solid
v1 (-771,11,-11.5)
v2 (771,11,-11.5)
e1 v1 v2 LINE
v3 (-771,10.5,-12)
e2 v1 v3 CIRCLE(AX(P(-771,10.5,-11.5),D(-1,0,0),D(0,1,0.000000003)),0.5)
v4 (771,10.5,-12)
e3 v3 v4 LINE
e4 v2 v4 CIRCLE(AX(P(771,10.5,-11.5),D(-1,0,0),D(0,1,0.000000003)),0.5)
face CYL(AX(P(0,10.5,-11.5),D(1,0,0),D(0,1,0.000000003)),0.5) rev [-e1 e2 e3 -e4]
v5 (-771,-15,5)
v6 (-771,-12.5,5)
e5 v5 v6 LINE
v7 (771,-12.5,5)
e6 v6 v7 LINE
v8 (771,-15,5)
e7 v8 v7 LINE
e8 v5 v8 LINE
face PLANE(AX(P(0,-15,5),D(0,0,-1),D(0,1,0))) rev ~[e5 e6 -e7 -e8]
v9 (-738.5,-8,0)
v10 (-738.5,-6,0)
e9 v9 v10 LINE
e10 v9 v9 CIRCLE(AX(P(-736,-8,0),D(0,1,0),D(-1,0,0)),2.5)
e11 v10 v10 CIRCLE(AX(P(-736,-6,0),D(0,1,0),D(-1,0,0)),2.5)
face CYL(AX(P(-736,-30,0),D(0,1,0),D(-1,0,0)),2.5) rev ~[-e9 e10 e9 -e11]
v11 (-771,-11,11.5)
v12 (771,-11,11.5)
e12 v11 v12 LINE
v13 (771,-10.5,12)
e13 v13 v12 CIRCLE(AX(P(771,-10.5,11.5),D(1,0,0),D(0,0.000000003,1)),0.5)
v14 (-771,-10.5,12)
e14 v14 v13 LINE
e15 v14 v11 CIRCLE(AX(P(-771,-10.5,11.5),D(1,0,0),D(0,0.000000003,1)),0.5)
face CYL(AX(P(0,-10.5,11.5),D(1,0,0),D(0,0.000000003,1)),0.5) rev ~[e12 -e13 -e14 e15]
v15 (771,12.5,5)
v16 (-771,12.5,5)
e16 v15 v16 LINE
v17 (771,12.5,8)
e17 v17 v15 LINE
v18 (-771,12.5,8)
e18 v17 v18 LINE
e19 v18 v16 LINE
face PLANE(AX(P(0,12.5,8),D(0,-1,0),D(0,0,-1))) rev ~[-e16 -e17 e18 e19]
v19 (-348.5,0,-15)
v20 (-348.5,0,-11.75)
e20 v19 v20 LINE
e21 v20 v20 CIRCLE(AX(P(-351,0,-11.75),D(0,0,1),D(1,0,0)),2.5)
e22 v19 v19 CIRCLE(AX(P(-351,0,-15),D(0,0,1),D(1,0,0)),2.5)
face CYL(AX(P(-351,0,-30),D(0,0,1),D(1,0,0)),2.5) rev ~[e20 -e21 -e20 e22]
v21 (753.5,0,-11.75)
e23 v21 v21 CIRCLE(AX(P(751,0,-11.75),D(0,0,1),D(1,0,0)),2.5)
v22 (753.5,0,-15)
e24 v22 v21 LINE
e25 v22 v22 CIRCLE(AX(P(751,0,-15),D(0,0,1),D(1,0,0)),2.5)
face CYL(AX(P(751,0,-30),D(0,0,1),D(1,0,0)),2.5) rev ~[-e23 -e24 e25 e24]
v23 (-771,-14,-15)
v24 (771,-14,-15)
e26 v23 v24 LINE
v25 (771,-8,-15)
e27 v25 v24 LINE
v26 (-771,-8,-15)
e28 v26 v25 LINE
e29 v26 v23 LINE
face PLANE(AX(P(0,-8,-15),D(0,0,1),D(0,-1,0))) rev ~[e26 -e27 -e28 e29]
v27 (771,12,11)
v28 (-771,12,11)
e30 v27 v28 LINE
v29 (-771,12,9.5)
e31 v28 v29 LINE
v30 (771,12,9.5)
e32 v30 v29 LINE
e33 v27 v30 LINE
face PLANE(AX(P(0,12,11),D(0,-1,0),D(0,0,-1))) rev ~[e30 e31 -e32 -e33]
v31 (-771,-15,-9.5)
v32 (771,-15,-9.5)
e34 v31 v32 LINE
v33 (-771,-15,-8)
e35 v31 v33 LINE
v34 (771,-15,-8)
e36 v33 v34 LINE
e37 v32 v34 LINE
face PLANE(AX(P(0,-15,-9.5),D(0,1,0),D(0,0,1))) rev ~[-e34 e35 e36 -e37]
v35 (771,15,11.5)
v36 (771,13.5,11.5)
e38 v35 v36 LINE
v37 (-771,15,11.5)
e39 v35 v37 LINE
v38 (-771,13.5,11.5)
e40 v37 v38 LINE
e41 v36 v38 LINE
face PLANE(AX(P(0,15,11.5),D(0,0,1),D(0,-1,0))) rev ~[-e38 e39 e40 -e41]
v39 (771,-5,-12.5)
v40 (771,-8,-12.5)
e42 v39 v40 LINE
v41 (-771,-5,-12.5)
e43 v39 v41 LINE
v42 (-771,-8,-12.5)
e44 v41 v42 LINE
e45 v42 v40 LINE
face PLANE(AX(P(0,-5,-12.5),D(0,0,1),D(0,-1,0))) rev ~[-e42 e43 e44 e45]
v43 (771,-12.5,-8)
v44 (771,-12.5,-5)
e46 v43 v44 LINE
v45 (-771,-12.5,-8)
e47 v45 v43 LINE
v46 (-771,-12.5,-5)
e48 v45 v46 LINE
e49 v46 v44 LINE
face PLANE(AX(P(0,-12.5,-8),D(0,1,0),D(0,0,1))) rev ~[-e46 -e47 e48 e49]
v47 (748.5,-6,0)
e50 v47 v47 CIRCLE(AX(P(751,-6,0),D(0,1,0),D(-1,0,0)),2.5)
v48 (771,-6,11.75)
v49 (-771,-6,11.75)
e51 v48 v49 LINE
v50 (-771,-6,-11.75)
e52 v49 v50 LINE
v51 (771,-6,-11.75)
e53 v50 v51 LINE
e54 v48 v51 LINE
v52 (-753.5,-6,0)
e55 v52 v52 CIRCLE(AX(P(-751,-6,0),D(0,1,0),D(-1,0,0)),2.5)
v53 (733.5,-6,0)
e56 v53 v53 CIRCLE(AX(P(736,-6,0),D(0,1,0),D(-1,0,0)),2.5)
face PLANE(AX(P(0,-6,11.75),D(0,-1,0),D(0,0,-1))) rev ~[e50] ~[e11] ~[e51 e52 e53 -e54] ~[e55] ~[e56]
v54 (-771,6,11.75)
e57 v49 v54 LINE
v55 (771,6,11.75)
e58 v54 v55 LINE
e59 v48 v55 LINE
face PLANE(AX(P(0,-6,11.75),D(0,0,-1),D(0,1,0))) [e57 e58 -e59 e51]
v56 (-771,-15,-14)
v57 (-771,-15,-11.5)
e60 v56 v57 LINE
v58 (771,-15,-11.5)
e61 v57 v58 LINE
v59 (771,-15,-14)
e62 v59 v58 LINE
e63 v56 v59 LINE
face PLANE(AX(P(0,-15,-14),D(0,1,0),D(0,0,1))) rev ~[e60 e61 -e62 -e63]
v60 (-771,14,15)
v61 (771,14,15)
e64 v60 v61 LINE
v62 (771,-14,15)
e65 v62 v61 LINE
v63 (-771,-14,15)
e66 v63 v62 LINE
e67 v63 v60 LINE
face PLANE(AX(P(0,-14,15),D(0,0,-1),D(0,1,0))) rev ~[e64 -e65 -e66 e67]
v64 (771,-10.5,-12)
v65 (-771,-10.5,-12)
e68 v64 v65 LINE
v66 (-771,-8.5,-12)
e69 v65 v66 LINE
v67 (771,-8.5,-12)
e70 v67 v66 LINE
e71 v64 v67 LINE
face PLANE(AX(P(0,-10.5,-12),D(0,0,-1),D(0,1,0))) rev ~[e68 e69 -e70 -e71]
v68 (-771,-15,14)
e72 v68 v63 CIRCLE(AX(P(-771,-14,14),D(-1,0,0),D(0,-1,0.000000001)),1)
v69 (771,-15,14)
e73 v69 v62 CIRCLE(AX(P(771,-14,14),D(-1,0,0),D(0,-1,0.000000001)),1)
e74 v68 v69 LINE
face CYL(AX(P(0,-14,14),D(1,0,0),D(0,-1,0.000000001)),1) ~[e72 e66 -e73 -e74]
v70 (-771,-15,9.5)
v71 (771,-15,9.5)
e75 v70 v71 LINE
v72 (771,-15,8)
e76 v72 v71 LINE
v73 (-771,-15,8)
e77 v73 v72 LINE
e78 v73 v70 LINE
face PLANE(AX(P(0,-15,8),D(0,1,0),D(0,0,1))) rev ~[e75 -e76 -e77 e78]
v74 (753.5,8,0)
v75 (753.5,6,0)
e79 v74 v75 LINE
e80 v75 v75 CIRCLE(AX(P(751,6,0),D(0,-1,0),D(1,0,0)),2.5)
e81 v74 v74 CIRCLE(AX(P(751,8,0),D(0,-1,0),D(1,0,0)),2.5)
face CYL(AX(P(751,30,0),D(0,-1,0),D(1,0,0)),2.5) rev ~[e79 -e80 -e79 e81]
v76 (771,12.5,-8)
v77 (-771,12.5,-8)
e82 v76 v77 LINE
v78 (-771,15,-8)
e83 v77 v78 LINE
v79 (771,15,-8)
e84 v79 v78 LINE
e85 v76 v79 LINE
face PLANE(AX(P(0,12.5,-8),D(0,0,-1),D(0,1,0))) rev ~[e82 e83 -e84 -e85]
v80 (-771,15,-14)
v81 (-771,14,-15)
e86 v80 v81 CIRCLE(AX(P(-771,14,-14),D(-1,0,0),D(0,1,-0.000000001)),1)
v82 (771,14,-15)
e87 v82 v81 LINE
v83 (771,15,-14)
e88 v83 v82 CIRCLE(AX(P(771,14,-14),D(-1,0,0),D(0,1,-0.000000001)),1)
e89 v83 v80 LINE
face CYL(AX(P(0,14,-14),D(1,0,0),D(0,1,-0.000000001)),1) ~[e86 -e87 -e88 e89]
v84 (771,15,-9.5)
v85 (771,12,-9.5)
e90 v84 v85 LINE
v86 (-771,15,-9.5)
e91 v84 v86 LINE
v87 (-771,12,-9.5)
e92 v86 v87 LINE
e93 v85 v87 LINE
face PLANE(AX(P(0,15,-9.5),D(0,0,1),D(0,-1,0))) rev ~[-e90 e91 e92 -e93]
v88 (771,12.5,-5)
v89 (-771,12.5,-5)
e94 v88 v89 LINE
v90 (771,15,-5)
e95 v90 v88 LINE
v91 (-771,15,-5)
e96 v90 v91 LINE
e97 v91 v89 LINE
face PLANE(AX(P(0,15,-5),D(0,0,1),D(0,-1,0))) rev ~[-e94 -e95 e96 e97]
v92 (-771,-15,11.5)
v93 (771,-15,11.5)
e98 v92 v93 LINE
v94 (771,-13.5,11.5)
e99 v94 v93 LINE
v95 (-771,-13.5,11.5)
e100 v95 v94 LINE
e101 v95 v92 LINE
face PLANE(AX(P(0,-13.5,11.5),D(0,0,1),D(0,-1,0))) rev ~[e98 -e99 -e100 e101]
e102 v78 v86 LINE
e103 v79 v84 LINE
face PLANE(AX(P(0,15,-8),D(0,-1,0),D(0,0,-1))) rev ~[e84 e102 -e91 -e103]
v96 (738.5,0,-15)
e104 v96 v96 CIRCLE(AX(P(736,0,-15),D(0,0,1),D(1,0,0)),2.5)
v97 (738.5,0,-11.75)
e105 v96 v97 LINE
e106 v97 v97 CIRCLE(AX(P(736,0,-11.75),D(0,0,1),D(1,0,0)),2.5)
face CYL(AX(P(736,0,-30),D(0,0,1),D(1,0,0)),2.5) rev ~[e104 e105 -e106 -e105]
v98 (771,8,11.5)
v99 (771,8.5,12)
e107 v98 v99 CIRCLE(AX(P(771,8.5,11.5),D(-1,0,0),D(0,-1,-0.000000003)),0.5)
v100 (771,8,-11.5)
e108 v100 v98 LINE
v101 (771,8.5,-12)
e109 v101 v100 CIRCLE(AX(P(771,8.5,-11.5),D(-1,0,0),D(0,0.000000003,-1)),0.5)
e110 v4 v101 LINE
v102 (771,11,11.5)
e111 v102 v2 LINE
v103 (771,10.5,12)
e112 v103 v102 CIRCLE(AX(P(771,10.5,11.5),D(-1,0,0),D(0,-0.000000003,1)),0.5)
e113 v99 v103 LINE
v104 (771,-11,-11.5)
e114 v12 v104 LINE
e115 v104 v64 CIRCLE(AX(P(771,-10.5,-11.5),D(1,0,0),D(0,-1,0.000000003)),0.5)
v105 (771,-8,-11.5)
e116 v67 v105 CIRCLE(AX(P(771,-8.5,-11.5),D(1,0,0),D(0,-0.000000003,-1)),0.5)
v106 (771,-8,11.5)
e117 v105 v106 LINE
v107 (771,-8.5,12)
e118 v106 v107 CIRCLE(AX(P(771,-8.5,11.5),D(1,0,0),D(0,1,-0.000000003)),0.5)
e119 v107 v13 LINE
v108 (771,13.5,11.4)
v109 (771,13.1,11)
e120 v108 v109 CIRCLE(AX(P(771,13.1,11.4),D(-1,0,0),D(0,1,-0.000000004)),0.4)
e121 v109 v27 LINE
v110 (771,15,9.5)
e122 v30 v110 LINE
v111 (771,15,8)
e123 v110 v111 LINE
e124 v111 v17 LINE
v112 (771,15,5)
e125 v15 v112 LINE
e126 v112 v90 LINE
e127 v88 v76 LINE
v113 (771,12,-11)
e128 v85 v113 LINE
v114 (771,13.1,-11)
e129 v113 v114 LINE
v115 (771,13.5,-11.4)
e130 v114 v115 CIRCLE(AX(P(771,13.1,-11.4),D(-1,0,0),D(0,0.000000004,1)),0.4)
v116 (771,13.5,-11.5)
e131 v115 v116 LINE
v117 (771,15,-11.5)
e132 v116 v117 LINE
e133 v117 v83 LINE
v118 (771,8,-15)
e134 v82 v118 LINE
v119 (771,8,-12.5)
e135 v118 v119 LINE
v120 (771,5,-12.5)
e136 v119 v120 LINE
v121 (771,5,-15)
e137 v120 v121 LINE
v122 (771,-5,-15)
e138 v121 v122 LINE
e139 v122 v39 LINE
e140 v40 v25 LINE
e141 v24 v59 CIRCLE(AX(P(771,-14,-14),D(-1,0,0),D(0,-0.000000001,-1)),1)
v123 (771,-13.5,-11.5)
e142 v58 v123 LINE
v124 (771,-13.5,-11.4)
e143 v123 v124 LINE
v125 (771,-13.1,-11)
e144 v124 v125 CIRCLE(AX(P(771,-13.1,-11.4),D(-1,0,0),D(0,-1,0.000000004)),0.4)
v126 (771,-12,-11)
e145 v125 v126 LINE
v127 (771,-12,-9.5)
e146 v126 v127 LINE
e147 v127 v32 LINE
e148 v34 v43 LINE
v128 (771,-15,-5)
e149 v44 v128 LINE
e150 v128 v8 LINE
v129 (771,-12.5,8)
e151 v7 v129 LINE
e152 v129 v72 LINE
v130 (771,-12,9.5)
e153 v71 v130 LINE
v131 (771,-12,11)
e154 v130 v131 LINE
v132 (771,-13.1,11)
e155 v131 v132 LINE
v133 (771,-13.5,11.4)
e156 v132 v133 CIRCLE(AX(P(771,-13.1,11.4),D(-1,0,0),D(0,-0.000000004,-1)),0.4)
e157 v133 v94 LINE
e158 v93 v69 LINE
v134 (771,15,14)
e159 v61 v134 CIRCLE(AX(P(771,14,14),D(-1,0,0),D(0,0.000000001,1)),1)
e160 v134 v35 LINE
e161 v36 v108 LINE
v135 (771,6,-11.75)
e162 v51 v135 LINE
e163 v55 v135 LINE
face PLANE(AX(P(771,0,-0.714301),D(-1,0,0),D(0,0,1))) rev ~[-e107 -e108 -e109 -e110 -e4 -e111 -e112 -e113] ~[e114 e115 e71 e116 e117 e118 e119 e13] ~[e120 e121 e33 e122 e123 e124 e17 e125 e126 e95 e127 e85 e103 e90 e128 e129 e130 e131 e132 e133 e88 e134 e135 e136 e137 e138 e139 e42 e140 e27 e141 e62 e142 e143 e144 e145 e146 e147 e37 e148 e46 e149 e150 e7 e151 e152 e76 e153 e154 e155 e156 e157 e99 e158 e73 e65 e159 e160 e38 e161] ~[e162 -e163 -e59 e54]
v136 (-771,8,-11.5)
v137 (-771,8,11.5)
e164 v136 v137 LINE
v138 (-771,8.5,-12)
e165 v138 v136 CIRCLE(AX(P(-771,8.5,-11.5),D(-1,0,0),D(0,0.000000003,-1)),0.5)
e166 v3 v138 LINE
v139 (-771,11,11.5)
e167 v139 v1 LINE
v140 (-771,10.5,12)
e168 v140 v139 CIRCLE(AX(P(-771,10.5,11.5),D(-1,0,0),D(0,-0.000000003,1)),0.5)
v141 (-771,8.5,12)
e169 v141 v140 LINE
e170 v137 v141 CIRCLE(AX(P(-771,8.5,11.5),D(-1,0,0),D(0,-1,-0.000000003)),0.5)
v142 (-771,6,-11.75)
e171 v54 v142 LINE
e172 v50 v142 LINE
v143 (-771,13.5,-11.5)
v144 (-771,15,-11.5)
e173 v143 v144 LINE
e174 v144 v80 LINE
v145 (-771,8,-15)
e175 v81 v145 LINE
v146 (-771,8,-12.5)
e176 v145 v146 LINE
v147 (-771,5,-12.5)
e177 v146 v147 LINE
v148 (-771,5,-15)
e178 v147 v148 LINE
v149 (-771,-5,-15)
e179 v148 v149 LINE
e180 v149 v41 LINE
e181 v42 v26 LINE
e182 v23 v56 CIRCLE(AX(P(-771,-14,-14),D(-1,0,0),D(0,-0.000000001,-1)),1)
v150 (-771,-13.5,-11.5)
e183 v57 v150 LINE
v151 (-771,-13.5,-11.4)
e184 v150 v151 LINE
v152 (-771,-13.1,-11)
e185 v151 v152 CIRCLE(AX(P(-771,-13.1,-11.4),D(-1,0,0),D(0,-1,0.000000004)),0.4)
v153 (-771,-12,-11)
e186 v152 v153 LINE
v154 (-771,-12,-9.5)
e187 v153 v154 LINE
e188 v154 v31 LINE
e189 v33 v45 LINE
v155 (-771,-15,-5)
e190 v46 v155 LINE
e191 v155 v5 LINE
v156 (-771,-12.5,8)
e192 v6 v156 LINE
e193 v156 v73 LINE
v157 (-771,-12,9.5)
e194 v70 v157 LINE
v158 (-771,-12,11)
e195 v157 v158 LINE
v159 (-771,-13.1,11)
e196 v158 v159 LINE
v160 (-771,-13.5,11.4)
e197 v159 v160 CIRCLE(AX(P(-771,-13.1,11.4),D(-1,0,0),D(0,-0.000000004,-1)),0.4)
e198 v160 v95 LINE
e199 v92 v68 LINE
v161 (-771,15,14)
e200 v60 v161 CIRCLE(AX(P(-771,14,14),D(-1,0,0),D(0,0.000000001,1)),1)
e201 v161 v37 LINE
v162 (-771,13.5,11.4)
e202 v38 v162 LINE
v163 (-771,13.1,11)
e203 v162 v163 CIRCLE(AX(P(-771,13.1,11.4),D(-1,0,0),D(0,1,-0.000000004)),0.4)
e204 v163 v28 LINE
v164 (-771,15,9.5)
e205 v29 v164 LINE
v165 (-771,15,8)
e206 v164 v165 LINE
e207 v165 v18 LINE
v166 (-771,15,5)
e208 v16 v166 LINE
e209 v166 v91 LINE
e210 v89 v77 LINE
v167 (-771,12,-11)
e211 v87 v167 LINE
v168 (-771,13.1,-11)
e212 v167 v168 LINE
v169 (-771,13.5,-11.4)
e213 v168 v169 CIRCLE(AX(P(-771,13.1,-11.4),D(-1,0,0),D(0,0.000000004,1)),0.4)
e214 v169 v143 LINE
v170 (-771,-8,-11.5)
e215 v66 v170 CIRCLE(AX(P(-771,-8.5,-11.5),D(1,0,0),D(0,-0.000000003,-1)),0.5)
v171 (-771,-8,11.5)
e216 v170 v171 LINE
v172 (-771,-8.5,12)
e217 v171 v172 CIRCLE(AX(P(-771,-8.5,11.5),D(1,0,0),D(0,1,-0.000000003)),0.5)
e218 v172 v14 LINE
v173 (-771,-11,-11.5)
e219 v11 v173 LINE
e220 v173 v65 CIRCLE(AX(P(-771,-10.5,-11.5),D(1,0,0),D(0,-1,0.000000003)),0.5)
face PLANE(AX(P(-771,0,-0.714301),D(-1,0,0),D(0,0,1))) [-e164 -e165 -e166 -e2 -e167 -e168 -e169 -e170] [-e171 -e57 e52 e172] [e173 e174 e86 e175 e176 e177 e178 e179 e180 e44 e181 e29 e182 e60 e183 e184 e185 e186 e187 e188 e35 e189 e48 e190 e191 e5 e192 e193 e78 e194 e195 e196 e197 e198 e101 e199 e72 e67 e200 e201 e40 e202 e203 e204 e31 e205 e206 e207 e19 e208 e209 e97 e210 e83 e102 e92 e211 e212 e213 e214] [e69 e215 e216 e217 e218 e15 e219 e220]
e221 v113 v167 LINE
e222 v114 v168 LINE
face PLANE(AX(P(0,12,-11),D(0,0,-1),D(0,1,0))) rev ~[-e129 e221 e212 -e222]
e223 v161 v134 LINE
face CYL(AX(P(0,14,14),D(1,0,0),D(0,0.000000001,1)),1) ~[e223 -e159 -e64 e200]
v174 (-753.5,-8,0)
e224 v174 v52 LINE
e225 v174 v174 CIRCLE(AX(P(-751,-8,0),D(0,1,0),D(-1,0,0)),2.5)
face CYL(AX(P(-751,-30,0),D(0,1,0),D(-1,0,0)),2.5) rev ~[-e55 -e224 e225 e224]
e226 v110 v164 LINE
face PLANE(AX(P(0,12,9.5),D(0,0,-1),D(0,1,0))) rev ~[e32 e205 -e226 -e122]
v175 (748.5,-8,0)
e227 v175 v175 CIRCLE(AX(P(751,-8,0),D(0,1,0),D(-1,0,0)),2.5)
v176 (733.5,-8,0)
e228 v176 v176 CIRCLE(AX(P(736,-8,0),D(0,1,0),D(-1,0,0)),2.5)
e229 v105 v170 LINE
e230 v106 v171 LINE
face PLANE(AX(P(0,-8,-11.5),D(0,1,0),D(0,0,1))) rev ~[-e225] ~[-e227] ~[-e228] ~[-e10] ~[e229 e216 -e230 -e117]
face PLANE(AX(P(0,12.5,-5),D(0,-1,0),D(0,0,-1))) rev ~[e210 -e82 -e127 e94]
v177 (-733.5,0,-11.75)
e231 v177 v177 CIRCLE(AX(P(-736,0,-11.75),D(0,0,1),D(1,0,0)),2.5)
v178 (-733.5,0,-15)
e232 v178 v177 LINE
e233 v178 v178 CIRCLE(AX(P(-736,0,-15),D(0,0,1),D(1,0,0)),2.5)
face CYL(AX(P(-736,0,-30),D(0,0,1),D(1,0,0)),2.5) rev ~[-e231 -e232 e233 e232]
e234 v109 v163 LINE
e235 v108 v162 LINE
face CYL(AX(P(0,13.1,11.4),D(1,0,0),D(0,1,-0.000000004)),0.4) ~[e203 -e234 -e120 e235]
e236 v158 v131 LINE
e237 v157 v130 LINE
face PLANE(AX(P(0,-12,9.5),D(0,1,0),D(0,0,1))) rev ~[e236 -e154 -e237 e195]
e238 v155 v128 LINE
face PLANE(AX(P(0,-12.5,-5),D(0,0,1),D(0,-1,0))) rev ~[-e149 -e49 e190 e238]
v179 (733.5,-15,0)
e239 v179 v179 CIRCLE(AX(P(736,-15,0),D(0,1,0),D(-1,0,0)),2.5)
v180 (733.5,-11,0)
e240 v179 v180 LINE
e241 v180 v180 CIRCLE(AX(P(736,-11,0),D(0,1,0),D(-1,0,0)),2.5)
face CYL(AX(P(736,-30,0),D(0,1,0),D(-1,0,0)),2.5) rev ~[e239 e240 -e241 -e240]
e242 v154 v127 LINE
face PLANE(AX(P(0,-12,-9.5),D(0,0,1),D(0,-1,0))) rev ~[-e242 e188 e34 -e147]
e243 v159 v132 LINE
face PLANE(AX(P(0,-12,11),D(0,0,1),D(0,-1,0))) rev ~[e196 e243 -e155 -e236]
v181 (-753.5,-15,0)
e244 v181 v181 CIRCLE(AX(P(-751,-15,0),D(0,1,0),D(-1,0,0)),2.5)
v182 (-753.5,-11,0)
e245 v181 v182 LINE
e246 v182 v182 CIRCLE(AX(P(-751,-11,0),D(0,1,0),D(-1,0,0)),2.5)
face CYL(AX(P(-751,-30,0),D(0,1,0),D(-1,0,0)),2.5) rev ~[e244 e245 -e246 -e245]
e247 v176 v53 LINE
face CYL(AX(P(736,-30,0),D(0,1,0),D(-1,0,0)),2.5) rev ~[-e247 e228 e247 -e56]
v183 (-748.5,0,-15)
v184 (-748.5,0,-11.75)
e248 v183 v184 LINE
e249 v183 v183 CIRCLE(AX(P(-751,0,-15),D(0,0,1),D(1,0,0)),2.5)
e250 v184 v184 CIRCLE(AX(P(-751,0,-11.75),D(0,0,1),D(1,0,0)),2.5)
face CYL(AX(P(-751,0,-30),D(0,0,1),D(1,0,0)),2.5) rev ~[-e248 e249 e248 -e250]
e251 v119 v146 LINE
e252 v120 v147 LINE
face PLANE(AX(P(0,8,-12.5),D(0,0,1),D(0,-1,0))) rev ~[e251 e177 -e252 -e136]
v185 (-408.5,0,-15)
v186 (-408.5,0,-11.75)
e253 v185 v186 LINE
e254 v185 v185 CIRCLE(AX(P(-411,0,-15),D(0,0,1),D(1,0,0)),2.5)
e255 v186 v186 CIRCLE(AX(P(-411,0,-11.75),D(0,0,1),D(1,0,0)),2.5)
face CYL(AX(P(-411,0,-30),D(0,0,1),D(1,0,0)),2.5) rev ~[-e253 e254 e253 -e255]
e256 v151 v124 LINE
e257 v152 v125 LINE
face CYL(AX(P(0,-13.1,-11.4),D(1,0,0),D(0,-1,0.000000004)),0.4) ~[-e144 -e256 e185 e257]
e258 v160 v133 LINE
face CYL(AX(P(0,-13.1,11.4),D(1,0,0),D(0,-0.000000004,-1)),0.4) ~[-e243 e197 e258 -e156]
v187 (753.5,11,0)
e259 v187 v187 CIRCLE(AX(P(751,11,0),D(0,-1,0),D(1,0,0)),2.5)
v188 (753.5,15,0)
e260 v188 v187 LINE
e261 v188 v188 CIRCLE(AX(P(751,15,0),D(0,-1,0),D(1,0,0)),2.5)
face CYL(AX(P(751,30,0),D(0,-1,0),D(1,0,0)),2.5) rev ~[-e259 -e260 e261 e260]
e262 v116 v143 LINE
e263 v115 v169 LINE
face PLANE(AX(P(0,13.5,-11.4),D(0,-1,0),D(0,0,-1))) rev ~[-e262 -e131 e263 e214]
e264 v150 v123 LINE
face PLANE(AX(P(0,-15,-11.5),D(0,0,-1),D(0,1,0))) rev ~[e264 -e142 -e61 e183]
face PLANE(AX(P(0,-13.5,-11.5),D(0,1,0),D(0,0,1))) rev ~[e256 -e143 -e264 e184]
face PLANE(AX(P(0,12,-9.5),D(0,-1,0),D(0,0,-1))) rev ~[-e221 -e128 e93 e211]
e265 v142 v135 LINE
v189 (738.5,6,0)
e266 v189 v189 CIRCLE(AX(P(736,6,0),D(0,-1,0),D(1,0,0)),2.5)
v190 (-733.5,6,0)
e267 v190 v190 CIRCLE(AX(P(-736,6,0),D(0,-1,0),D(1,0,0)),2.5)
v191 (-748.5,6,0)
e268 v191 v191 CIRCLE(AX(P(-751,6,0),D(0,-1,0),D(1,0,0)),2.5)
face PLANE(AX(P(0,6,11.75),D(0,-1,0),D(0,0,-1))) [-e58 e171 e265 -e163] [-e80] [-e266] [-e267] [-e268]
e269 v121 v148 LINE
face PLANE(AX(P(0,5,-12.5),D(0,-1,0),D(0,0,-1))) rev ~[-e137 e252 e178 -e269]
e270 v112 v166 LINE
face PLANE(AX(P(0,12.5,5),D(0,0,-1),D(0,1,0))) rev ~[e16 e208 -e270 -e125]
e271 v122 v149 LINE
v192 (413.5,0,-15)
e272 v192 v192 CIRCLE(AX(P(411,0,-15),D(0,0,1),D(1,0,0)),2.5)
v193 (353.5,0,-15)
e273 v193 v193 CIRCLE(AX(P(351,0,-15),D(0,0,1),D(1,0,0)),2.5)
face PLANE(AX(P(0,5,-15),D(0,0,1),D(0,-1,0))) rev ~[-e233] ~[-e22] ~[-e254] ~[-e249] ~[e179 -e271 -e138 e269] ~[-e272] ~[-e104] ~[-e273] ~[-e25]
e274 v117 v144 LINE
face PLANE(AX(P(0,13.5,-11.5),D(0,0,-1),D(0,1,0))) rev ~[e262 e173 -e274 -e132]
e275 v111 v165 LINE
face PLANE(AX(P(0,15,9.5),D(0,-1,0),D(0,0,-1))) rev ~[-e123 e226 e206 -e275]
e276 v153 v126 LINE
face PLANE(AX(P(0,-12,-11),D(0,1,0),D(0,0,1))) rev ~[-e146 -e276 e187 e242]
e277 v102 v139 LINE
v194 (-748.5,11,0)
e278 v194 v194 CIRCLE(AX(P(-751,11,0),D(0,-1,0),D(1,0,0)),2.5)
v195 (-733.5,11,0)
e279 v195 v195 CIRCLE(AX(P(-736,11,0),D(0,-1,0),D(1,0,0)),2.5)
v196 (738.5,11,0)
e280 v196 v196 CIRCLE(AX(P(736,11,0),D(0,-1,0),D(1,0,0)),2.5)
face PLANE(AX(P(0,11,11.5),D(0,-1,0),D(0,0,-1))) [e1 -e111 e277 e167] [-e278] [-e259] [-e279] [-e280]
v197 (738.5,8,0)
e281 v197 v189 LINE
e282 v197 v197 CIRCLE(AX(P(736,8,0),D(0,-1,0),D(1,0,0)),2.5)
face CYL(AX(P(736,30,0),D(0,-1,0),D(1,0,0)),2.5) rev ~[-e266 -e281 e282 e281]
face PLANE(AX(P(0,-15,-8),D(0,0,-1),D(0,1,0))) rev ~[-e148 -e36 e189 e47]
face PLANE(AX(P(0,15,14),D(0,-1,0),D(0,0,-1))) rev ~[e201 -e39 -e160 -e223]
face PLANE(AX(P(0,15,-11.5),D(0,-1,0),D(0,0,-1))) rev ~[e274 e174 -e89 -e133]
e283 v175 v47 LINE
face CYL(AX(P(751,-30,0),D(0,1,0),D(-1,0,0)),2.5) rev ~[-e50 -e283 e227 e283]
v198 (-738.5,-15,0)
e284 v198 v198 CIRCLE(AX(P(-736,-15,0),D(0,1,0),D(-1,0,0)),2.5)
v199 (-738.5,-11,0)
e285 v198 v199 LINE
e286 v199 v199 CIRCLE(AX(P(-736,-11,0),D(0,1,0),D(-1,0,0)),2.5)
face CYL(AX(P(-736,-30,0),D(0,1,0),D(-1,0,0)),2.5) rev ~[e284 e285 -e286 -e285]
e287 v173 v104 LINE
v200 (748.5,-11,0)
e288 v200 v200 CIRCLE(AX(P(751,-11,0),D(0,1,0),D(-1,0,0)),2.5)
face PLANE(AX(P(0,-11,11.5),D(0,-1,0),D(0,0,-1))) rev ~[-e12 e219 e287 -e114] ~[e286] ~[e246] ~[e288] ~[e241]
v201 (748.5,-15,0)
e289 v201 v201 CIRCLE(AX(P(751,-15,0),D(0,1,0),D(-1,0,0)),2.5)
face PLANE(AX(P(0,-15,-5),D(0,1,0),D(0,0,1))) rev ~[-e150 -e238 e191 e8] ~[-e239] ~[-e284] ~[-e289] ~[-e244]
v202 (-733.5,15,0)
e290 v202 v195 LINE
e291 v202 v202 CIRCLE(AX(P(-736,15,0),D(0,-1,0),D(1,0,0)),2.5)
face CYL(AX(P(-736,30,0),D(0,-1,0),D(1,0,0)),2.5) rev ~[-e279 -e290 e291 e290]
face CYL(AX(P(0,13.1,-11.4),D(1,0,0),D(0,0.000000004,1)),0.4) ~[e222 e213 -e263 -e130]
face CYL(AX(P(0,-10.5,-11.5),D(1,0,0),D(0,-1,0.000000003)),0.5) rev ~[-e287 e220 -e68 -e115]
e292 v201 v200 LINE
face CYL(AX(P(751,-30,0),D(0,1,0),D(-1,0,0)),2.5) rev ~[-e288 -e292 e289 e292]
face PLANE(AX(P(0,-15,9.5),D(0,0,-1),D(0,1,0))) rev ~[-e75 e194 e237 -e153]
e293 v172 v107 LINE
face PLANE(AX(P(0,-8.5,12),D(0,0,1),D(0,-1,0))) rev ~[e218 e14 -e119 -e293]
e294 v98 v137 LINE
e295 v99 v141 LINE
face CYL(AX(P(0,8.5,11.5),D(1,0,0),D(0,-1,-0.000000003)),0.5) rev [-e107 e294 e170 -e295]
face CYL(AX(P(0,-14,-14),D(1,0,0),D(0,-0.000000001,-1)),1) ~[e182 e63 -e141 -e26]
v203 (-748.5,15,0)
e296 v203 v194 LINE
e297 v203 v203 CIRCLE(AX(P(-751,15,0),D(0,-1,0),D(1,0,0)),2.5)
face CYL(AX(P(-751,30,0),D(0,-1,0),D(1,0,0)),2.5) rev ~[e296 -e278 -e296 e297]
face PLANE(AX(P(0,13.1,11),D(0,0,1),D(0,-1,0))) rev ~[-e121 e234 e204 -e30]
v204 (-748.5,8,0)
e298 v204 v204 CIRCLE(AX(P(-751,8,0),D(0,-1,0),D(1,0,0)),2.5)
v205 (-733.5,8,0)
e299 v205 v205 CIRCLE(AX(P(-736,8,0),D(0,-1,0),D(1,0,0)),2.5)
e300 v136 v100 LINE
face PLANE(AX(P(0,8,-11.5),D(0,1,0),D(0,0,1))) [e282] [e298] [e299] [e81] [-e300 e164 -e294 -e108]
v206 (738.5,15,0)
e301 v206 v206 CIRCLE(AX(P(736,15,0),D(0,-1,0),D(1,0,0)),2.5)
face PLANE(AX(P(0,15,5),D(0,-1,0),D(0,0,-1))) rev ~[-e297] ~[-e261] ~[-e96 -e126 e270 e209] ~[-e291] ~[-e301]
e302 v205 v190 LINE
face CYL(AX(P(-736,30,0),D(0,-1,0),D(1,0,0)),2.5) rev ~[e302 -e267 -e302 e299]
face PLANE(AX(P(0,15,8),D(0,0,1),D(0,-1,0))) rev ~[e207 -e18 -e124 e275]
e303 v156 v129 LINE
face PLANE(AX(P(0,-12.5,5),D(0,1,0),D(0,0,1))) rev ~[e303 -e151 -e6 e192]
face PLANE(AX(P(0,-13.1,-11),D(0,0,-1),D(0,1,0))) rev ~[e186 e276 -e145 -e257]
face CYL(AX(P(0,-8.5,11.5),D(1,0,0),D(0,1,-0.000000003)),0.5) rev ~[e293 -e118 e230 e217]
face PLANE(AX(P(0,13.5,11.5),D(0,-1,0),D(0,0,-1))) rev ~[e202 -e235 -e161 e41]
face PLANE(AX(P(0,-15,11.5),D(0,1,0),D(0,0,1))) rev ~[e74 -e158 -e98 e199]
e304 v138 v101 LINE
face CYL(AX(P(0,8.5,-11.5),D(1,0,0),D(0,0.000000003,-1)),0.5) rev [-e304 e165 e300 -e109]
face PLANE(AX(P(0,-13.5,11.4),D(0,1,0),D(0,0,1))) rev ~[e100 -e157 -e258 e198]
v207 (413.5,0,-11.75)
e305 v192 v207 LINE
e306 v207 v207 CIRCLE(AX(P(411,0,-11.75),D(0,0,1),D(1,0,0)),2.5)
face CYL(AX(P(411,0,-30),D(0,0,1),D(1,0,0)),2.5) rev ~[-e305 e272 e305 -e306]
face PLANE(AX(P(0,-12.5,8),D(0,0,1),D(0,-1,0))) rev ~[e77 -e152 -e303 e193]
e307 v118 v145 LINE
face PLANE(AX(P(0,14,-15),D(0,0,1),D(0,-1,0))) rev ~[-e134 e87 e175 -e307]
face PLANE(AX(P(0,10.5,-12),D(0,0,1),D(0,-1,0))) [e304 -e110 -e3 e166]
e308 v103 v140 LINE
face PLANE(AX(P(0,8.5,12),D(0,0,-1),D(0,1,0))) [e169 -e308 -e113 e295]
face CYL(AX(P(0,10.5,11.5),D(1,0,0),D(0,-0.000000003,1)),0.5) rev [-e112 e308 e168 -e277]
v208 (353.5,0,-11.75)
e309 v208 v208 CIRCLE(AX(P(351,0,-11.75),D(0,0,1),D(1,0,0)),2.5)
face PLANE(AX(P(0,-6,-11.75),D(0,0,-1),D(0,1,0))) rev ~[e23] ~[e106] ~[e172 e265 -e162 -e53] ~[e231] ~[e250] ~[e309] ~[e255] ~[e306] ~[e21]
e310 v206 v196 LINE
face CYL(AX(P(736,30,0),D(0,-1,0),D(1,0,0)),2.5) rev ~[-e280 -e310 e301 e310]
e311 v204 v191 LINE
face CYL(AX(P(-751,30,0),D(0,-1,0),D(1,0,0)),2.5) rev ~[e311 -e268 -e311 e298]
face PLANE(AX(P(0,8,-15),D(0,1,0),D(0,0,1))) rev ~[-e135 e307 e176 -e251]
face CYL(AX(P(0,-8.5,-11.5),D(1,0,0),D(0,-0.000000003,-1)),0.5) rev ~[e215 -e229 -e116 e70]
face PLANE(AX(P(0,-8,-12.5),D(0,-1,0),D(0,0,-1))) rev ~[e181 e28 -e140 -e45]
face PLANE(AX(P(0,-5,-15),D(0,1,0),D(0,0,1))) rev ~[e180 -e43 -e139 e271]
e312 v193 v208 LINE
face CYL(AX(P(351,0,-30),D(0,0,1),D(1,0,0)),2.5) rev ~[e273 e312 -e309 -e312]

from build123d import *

# Parameters (mm, degrees)
SKETCH_1_W             = 23.5
SKETCH_1_H             = 12
EXTRUDE_1_DEPTH        = 771
HOLE_WIZARD_M6_1_D     = 5
HOLE_WIZARD_M6_1_DEPTH = 15
HOLE_WIZARD_M6_1_TIP   = 1.502151548
HOLE_WIZARD_M6_2_D     = 5
HOLE_WIZARD_M6_2_DEPTH = 15
HOLE_WIZARD_M6_2_TIP   = 1.502151548
HOLE_WIZARD_M6_3_D     = 5
HOLE_WIZARD_M6_3_DEPTH = 15
HOLE_WIZARD_M6_3_TIP   = 1.502151548
HOLE_WIZARD_M6_4_D     = 5
HOLE_WIZARD_M6_4_DEPTH = 15
HOLE_WIZARD_M6_4_TIP   = 1.502151548


with BuildPart() as part:
    # 草图1 → 凸台-拉伸1 (new, symmetric)
    with BuildSketch(Plane(origin=(0, 0, 0), x_dir=(0, 0, -1), z_dir=(1, 0, 0))):
        with BuildLine():
            Line((-14, 15), (-11.5, 15))
            Line((-11.5, 15), (-11.5, 13.5))
            Line((-11.5, 13.5), (-11.4, 13.5))
            ThreePointArc((-11.4, 13.5), (-11.117157288, 13.382842712), (-11, 13.1))
            Line((-11, 13.1), (-11, 12))
            Line((-11, 12), (-9.5, 12))
            Line((-9.5, 12), (-9.5, 15))
            Line((-9.5, 15), (-8, 15))
            Line((-8, 15), (-8, 12.5))
            Line((-8, 12.5), (-5, 12.5))
            Line((-5, 12.5), (-5, 15))
            Line((-5, 15), (5, 15))
            Line((5, 15), (5, 12.5))
            Line((5, 12.5), (8, 12.5))
            Line((8, 12.5), (8, 15))
            Line((8, 15), (9.5, 15))
            Line((9.5, 15), (9.5, 12))
            Line((9.5, 12), (11, 12))
            Line((11, 12), (11, 13.1))
            ThreePointArc((11, 13.1), (11.117157288, 13.382842712), (11.4, 13.5))
            Line((11.4, 13.5), (11.5, 13.5))
            Line((11.5, 13.5), (11.5, 15))
            Line((11.5, 15), (14, 15))
            ThreePointArc((14, 15), (14.707106781, 14.707106781), (15, 14))
            Line((15, 14), (15, 8))
            Line((15, 8), (12.5, 8))
            Line((12.5, 8), (12.5, 5))
            Line((12.5, 5), (15, 5))
            Line((15, 5), (15, -5))
            Line((15, -5), (12.5, -5))
            Line((12.5, -5), (12.5, -8))
            Line((12.5, -8), (15, -8))
            Line((15, -8), (15, -14))
            ThreePointArc((15, -14), (14.707106781, -14.707106781), (14, -15))
            Line((14, -15), (11.5, -15))
            Line((11.5, -15), (11.5, -13.5))
            Line((11.5, -13.5), (11.4, -13.5))
            ThreePointArc((11.4, -13.5), (11.117157288, -13.382842712), (11, -13.1))
            Line((11, -13.1), (11, -12))
            Line((11, -12), (9.5, -12))
            Line((9.5, -12), (9.5, -15))
            Line((9.5, -15), (8, -15))
            Line((8, -15), (8, -12.5))
            Line((8, -12.5), (5, -12.5))
            Line((5, -12.5), (5, -15))
            Line((5, -15), (-5, -15))
            Line((-5, -15), (-5, -12.5))
            Line((-5, -12.5), (-8, -12.5))
            Line((-8, -12.5), (-8, -15))
            Line((-8, -15), (-9.5, -15))
            Line((-9.5, -15), (-9.5, -12))
            Line((-9.5, -12), (-11, -12))
            Line((-11, -12), (-11, -13.1))
            ThreePointArc((-11, -13.1), (-11.117157288, -13.382842712), (-11.4, -13.5))
            Line((-11.4, -13.5), (-11.5, -13.5))
            Line((-11.5, -13.5), (-11.5, -15))
            Line((-11.5, -15), (-14, -15))
            ThreePointArc((-14, -15), (-14.707106781, -14.707106781), (-15, -14))
            Line((-15, -14), (-15, 14))
            ThreePointArc((-15, 14), (-14.707106781, 14.707106781), (-14, 15))
        make_face()
        with BuildLine():
            Line((12, -10.5), (12, -8.5))
            ThreePointArc((12, -8.5), (11.853553391, -8.146446609), (11.5, -8))
            Line((11.5, -8), (-11.5, -8))
            ThreePointArc((-11.5, -8), (-11.853553391, -8.146446609), (-12, -8.5))
            Line((-12, -8.5), (-12, -10.5))
            ThreePointArc((-12, -10.5), (-11.853553391, -10.853553391), (-11.5, -11))
            Line((-11.5, -11), (11.5, -11))
            ThreePointArc((11.5, -11), (11.853553391, -10.853553391), (12, -10.5))
        make_face(mode=Mode.SUBTRACT)
        with BuildLine():
            Line((-11.5, 11), (11.5, 11))
            ThreePointArc((11.5, 11), (11.853553391, 10.853553391), (12, 10.5))
            Line((12, 10.5), (12, 8.5))
            ThreePointArc((12, 8.5), (11.853553391, 8.146446609), (11.5, 8))
            Line((11.5, 8), (-11.5, 8))
            ThreePointArc((-11.5, 8), (-11.853553391, 8.146446609), (-12, 8.5))
            Line((-12, 8.5), (-12, 10.5))
            ThreePointArc((-12, 10.5), (-11.853553391, 10.853553391), (-11.5, 11))
        make_face(mode=Mode.SUBTRACT)
        Rectangle(SKETCH_1_W, SKETCH_1_H, mode=Mode.SUBTRACT)
    extrude(amount=EXTRUDE_1_DEPTH, both=True)

    # M6 螺纹孔1
    with Locations(Plane(origin=(0, 15, 0), x_dir=(-1, 0, 0), z_dir=(0, 1, 0))):
        with Locations((-751, 0), (-736, 0), (736, 0), (751, 0)):
            Hole(HOLE_WIZARD_M6_1_D / 2, depth=HOLE_WIZARD_M6_1_DEPTH)
            with Locations((0, 0, -(HOLE_WIZARD_M6_1_DEPTH + HOLE_WIZARD_M6_1_TIP / 2))):  # 118° drill point
                Cone(0, HOLE_WIZARD_M6_1_D / 2, HOLE_WIZARD_M6_1_TIP, mode=Mode.SUBTRACT)

    # M6 螺纹孔2
    with Locations(Plane(origin=(0, 0, -15), x_dir=(-1, 0, 0), z_dir=(0, 0, -1))):
        with Locations((-751, 0), (-736, 0), (736, 0), (751, 0)):
            Hole(HOLE_WIZARD_M6_2_D / 2, depth=HOLE_WIZARD_M6_2_DEPTH)
            with Locations((0, 0, -(HOLE_WIZARD_M6_2_DEPTH + HOLE_WIZARD_M6_2_TIP / 2))):  # 118° drill point
                Cone(0, HOLE_WIZARD_M6_2_D / 2, HOLE_WIZARD_M6_2_TIP, mode=Mode.SUBTRACT)

    # M6 螺纹孔3
    with Locations(Plane.XZ.offset(15)):
        with Locations((751, 0), (736, 0), (-736, 0), (-751, 0)):
            Hole(HOLE_WIZARD_M6_3_D / 2, depth=HOLE_WIZARD_M6_3_DEPTH)
            with Locations((0, 0, -(HOLE_WIZARD_M6_3_DEPTH + HOLE_WIZARD_M6_3_TIP / 2))):  # 118° drill point
                Cone(0, HOLE_WIZARD_M6_3_D / 2, HOLE_WIZARD_M6_3_TIP, mode=Mode.SUBTRACT)

    # M6 螺纹孔4
    with Locations(Plane(origin=(0, 0, -15), x_dir=(-1, 0, 0), z_dir=(0, 0, -1))):
        with Locations((411, 0), (351, 0), (-411, 0), (-351, 0)):
            Hole(HOLE_WIZARD_M6_4_D / 2, depth=HOLE_WIZARD_M6_4_DEPTH)
            with Locations((0, 0, -(HOLE_WIZARD_M6_4_DEPTH + HOLE_WIZARD_M6_4_TIP / 2))):  # 118° drill point
                Cone(0, HOLE_WIZARD_M6_4_D / 2, HOLE_WIZARD_M6_4_TIP, mode=Mode.SUBTRACT)


solid = part.part
